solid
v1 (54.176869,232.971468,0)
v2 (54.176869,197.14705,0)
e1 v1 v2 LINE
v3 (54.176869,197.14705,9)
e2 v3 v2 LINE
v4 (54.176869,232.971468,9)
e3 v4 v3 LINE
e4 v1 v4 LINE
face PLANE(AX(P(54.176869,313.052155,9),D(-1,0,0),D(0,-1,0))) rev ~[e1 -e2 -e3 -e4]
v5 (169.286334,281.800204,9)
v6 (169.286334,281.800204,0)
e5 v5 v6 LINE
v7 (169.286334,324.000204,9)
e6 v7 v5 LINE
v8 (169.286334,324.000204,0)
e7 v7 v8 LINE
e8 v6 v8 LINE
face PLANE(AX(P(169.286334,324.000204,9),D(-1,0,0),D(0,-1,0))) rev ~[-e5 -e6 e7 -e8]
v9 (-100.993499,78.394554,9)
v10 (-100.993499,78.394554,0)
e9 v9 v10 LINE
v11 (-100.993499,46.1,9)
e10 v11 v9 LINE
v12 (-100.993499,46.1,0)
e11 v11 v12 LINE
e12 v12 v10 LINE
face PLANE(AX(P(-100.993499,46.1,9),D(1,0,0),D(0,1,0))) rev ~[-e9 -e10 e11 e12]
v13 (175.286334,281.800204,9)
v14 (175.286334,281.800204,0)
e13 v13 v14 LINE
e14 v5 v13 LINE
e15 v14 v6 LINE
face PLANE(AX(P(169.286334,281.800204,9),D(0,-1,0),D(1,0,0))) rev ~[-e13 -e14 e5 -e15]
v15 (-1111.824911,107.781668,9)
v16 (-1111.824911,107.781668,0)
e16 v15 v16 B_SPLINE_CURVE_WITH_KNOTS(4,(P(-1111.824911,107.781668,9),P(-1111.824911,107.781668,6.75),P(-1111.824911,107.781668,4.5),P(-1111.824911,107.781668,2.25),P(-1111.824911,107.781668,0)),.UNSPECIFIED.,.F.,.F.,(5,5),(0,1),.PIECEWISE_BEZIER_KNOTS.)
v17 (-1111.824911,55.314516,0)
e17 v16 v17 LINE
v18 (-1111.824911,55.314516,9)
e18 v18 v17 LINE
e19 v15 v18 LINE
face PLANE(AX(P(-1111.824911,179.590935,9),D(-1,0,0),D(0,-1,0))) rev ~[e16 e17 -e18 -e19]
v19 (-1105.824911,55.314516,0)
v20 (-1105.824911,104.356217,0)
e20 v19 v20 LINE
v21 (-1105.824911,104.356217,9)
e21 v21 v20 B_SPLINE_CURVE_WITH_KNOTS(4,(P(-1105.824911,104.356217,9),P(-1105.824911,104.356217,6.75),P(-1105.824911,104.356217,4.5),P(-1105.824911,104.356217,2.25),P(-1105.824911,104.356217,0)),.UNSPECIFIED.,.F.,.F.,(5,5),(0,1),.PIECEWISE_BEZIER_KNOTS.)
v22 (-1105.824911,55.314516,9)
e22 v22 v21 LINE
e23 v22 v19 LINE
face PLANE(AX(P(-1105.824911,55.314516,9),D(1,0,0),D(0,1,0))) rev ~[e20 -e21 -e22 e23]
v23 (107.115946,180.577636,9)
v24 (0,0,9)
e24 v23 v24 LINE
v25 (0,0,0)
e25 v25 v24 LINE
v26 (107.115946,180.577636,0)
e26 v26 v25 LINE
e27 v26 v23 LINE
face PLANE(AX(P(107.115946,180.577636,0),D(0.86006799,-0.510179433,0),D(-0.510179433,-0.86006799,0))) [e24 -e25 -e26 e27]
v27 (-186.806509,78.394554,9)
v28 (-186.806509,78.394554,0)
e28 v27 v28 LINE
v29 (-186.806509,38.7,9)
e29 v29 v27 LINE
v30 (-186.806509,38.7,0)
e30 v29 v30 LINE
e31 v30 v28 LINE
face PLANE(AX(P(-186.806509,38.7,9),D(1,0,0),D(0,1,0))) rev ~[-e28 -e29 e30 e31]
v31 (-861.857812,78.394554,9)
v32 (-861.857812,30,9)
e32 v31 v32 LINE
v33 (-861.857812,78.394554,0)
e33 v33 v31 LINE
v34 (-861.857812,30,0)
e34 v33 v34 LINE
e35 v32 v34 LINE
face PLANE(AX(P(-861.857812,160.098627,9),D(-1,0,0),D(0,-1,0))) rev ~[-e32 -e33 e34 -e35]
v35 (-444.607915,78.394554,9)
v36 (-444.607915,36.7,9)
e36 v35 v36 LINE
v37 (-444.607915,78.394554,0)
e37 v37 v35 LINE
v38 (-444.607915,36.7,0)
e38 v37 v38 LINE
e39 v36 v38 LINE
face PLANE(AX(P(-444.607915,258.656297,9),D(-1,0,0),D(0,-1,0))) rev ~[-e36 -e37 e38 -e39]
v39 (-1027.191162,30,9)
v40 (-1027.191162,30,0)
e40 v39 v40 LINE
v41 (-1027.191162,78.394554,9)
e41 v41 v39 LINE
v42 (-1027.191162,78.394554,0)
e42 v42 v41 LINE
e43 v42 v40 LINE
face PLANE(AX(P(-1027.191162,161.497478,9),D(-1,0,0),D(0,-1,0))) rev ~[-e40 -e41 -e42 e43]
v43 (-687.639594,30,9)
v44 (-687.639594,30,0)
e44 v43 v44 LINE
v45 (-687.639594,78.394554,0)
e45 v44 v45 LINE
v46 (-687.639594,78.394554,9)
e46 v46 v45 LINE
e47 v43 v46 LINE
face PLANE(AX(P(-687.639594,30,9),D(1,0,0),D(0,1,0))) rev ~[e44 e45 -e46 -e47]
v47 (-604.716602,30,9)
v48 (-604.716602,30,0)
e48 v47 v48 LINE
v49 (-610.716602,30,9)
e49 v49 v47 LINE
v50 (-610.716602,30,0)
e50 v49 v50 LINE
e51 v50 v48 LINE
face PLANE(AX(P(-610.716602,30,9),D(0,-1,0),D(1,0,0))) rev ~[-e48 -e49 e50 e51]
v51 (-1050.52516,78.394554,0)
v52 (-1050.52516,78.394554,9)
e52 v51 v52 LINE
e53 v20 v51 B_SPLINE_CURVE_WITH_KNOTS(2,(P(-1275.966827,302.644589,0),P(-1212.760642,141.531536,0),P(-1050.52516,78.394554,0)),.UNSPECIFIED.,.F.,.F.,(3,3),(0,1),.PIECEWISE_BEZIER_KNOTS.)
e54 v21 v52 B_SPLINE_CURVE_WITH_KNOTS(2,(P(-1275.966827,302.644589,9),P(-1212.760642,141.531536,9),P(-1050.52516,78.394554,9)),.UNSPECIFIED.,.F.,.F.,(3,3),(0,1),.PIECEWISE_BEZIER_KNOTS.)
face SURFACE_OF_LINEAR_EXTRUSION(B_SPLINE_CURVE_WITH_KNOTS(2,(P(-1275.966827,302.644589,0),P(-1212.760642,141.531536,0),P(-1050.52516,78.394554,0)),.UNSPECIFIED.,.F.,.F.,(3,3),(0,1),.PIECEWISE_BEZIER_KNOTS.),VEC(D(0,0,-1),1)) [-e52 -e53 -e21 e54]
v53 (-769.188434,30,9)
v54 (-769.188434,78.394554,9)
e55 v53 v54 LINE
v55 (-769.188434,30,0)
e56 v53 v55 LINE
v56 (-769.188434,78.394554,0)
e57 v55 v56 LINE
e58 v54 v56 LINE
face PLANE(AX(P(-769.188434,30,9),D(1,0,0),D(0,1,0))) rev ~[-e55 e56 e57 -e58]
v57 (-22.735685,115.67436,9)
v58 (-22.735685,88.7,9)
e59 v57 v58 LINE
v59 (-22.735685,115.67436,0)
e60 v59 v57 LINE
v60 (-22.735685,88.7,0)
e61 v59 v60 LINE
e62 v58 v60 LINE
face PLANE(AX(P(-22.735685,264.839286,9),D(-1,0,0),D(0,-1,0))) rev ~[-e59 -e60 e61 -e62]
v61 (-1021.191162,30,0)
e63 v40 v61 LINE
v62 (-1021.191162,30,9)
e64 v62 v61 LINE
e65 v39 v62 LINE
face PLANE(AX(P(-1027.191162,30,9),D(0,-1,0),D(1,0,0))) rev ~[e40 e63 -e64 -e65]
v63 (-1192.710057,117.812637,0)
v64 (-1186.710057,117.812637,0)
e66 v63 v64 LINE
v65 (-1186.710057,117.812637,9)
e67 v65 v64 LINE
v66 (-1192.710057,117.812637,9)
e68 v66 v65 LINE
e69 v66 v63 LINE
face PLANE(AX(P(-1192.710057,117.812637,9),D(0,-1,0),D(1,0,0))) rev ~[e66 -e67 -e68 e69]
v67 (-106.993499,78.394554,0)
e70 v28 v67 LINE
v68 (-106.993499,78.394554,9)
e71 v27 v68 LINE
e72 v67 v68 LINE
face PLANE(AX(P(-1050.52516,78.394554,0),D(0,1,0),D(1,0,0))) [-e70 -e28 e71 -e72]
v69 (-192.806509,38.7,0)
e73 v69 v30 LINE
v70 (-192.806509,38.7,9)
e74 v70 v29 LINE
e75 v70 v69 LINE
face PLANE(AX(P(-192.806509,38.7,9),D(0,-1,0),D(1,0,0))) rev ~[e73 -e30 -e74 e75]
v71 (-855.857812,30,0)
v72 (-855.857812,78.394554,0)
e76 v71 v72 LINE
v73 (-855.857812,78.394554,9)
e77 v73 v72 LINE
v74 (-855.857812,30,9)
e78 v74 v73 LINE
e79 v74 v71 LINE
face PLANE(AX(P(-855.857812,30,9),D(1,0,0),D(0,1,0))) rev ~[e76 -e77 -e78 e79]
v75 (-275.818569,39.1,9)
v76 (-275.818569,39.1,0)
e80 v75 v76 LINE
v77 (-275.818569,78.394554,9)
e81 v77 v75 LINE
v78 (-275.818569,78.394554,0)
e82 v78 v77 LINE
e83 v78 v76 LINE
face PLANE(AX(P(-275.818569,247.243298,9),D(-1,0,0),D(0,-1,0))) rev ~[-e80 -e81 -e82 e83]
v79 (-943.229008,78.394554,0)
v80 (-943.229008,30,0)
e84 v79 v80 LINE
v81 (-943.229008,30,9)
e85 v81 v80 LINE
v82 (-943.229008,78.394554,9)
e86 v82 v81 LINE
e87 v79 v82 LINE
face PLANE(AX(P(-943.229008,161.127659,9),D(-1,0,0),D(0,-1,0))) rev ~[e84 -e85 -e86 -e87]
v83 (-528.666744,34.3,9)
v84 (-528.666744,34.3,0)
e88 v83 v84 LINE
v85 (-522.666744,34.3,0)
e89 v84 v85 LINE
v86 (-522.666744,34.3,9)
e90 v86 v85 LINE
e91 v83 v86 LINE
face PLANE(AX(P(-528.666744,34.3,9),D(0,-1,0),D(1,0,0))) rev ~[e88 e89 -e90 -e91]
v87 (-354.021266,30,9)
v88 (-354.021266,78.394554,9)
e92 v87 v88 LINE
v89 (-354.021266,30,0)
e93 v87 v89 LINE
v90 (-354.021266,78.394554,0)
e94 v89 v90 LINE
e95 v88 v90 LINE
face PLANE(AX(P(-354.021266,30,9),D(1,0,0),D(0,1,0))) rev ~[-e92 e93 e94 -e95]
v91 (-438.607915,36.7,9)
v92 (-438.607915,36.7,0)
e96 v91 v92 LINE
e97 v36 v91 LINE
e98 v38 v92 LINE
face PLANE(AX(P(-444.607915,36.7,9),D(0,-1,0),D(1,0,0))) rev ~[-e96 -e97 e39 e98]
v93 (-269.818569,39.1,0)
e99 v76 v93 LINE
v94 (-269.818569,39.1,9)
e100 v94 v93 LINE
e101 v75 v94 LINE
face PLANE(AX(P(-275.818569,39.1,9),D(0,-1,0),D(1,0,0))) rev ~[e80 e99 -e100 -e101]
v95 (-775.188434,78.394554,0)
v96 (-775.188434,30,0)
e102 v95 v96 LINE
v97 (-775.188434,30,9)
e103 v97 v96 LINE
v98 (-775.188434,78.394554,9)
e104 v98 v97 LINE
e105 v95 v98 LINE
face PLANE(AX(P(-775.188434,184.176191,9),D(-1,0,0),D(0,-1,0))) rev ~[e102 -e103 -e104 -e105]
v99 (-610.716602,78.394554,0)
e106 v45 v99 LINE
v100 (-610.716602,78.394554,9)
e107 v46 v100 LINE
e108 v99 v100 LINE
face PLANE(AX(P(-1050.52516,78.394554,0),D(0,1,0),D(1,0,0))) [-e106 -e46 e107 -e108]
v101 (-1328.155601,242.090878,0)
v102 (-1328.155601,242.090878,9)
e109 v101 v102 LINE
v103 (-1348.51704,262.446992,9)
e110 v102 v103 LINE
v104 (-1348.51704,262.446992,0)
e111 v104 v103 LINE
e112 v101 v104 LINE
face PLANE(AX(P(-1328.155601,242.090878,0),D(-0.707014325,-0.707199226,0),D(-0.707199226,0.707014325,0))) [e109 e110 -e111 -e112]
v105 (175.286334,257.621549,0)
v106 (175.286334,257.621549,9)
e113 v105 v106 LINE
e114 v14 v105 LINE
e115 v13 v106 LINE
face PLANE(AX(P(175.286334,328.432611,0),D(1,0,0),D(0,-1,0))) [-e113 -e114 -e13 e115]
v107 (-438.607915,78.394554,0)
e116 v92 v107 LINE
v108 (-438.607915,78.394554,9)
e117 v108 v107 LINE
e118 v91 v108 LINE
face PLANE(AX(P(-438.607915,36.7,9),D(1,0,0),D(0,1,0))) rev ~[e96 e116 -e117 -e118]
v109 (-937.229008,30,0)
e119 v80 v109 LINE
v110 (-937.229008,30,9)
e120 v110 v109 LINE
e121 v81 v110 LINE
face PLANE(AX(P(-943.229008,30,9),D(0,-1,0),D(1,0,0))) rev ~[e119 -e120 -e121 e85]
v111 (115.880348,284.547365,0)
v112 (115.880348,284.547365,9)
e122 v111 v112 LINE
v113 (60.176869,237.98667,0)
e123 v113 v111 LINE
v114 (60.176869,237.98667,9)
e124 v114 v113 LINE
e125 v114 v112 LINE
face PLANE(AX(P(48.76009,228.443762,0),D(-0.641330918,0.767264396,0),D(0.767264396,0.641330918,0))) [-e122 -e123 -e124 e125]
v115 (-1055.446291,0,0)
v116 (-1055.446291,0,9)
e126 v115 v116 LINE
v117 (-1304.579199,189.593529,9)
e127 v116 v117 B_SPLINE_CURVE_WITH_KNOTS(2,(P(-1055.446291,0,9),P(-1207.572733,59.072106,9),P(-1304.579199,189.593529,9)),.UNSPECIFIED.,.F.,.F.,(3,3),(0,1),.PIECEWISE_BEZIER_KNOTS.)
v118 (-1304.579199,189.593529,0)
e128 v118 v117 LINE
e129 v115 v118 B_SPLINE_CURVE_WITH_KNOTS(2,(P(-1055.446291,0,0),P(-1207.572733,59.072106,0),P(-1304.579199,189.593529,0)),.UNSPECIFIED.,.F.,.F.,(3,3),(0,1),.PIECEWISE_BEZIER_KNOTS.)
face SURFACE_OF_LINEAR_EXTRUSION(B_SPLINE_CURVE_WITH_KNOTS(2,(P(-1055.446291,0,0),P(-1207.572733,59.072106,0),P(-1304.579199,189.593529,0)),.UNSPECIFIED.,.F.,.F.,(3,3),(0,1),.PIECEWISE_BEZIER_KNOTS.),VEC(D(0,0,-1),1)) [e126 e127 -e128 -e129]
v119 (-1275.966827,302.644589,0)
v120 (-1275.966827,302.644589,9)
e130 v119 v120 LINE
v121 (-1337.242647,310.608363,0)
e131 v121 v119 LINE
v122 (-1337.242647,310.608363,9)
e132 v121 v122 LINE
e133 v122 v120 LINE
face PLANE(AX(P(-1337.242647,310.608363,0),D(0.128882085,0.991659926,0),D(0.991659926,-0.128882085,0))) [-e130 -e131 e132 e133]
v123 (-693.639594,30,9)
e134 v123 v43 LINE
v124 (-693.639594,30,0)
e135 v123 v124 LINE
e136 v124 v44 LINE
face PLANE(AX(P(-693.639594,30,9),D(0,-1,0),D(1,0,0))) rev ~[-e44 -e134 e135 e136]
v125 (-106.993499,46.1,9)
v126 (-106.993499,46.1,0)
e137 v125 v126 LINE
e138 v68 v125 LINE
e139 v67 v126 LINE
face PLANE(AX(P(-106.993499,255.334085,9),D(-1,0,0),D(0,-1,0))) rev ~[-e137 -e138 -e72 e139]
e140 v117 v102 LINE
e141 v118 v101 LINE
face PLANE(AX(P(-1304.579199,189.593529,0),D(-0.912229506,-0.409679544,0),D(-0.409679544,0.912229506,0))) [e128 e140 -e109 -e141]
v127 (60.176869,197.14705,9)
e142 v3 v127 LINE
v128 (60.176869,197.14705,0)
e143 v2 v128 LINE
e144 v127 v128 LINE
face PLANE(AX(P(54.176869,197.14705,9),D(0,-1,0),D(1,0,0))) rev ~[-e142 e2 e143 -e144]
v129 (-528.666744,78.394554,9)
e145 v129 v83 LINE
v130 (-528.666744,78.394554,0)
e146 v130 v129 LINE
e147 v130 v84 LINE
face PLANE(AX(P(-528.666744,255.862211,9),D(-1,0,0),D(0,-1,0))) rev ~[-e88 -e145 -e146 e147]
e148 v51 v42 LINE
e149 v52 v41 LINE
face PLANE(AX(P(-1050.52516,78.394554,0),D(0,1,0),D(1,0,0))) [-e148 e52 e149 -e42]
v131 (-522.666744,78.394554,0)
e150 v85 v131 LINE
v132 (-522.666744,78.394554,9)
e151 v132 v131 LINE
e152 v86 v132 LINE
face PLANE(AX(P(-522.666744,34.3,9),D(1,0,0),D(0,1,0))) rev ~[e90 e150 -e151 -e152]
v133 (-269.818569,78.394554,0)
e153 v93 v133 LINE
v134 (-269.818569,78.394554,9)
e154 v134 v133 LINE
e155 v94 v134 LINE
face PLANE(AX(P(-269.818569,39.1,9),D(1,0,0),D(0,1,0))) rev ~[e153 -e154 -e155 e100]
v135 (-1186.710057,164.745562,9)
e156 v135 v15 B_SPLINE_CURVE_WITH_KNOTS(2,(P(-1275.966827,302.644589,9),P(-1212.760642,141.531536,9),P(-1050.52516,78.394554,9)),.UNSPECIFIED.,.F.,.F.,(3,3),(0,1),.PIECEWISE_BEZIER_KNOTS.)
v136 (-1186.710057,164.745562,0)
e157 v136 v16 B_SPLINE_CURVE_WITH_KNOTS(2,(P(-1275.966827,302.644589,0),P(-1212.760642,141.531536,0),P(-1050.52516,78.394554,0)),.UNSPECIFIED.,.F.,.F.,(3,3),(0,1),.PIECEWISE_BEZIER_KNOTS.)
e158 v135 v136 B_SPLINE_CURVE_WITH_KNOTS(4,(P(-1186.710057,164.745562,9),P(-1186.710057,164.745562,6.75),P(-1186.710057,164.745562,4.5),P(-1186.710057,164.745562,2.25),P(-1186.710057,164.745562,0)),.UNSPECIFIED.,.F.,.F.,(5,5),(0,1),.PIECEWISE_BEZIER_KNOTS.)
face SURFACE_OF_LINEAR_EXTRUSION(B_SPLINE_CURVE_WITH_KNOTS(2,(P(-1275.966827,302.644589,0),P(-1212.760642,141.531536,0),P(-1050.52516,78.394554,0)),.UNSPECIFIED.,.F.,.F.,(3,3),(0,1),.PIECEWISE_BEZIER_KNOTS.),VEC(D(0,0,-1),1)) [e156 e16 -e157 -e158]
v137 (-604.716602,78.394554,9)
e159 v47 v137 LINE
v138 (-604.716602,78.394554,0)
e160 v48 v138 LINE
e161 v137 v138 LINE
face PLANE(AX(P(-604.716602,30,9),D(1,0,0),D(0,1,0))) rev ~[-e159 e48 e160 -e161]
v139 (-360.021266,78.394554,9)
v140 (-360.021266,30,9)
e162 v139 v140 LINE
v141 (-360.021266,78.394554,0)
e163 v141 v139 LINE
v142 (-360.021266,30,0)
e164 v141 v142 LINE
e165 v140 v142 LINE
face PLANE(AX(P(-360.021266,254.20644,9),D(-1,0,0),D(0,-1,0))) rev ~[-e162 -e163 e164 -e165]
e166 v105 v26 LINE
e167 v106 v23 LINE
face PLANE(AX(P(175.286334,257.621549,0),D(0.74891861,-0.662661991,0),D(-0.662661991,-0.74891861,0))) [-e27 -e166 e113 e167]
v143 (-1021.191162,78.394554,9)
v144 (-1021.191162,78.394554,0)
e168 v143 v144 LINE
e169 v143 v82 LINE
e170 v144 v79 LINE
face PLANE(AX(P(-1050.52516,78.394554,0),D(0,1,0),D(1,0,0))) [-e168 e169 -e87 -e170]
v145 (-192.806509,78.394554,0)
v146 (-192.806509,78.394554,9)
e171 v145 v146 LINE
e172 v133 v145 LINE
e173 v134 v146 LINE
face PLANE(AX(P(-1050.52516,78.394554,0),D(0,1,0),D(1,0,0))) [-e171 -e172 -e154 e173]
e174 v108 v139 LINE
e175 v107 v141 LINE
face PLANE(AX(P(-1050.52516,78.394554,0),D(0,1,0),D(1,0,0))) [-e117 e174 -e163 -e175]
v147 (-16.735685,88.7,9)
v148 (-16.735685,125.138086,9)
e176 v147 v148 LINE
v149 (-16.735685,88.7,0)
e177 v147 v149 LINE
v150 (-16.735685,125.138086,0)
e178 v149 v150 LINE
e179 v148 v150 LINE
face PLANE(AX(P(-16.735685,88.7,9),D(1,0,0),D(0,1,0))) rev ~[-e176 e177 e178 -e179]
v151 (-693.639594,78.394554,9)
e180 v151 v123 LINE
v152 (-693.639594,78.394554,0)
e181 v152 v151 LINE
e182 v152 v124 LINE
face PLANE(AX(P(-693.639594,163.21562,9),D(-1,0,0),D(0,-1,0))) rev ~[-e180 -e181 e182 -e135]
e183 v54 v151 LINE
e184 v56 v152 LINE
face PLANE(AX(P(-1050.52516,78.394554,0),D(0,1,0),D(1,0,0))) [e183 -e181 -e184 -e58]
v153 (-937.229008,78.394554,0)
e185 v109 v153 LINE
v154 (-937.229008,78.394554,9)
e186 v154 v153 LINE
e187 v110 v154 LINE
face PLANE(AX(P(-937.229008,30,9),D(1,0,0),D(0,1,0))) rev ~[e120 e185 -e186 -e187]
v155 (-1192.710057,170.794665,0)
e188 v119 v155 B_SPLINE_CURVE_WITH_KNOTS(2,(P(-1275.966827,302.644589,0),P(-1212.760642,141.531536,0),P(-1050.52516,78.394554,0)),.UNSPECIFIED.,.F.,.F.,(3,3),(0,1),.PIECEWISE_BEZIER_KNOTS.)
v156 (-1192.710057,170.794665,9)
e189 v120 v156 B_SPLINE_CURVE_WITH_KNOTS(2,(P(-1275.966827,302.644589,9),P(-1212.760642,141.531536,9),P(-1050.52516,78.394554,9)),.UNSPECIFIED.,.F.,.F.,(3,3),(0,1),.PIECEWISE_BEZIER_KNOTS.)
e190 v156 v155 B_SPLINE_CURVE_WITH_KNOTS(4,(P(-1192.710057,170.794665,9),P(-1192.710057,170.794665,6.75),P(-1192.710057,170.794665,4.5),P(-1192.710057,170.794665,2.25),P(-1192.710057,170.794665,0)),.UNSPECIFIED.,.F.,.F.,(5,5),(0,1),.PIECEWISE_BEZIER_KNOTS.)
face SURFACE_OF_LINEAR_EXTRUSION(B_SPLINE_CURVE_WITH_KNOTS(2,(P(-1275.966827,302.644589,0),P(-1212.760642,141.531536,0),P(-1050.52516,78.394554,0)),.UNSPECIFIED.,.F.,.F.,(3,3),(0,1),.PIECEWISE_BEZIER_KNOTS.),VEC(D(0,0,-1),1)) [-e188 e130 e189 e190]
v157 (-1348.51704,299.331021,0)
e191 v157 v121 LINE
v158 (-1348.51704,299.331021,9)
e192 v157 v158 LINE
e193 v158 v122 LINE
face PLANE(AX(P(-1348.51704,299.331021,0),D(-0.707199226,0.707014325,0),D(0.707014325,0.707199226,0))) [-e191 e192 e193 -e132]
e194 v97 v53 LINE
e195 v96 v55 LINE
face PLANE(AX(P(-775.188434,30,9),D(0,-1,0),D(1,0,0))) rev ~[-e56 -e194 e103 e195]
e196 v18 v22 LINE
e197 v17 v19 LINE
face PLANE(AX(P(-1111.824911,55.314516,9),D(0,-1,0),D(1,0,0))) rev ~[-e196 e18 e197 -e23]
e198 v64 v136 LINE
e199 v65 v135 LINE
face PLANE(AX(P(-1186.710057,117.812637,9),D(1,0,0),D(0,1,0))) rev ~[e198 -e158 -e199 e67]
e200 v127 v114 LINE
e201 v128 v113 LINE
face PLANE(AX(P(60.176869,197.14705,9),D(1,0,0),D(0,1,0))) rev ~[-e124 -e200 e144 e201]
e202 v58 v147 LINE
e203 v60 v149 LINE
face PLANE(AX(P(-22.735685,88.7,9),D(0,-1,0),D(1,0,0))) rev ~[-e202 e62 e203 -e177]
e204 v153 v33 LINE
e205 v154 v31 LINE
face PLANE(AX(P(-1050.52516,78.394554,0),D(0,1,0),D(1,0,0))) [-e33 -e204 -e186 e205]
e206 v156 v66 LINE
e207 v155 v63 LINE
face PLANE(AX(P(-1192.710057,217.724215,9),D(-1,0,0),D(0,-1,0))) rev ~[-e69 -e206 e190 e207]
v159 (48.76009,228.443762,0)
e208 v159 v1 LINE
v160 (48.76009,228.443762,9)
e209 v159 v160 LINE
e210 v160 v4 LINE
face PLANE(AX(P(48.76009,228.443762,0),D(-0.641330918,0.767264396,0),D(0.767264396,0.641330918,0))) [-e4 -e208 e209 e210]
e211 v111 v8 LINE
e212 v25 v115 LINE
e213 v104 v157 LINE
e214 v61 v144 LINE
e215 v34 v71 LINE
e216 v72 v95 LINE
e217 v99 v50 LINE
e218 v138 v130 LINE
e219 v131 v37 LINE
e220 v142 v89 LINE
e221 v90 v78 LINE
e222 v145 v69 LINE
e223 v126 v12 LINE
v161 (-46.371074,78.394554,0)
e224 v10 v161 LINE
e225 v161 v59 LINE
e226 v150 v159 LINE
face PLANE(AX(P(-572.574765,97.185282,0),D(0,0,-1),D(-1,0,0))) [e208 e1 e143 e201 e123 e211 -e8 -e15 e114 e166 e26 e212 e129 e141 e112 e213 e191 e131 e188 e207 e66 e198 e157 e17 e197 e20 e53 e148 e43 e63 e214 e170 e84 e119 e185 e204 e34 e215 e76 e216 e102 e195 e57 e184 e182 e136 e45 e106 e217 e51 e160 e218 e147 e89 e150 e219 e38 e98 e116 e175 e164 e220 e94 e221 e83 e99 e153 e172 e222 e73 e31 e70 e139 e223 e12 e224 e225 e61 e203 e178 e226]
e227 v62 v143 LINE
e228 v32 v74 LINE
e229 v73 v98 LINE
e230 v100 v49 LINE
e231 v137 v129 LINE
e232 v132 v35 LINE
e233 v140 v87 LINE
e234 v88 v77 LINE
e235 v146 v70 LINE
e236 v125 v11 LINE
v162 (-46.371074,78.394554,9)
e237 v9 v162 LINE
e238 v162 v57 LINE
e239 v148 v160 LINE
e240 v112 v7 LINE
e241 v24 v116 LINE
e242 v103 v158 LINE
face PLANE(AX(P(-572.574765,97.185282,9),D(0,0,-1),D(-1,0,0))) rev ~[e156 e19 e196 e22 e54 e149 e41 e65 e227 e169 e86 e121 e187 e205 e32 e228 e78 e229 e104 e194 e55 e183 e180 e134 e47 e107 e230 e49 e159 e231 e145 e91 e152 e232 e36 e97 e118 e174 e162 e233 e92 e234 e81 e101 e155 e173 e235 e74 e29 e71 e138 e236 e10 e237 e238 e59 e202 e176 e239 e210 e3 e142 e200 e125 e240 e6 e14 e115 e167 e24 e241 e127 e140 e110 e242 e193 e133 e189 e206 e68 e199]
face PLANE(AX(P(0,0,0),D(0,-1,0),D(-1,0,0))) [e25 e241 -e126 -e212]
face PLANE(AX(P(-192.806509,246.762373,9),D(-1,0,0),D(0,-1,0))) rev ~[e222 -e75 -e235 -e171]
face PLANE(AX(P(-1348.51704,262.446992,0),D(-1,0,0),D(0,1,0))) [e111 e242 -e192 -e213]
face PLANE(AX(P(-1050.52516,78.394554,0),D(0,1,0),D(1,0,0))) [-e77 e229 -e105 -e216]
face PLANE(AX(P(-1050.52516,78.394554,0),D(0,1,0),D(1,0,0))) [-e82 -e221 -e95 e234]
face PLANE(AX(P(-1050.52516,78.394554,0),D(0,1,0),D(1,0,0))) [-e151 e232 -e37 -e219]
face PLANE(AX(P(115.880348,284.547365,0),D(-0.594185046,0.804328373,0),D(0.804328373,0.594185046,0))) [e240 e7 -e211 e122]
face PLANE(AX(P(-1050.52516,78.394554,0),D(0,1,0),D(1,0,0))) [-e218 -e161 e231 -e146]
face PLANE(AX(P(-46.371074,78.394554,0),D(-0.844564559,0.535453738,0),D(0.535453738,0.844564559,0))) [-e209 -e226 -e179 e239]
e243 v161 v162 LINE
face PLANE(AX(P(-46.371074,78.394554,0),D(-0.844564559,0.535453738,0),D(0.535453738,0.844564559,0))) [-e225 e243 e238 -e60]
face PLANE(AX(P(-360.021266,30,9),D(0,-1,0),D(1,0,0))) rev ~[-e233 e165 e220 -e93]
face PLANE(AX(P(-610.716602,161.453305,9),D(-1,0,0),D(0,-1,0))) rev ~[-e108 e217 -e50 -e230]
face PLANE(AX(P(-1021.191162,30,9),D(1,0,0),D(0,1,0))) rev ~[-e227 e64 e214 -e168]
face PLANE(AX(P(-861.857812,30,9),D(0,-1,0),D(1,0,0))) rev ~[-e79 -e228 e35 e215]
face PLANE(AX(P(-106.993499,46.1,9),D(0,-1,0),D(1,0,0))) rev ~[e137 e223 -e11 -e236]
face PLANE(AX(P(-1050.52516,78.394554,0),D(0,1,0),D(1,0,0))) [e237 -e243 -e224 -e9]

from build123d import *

# Parameters (mm, degrees)
BOSS_EXTRU_2_DEPTH      = 9
ENL_V_MAT_EXTRU_2_DEPTH = 9
ENL_V_MAT_EXTRU_3_DEPTH = 10


with BuildPart() as part:
    # Esquisse2 → Boss.-Extru.2 (new body)
    with BuildSketch(Plane.XY):
        with BuildLine():
            Line((0, 0), (-1055.446290734, 0))
            add(Edge.make_bspline(
                [(-1055.446290734, 0), (-1207.572733387, 59.072106031), (-1304.579199027, 189.593529265)],
                knots=[0, 0, 0, 1, 1, 1], degree=2))
            Line((-1304.579199027, 189.593529265), (-1328.155601237, 242.090877604))
            Line((-1328.155601237, 242.090877604), (-1348.517039509, 262.446992266))
            Line((-1348.517039509, 262.446992266), (-1348.517039509, 299.331021292))
            Line((-1348.517039509, 299.331021292), (-1337.24264668, 310.608362644))
            Line((-1337.24264668, 310.608362644), (-1275.966827179, 302.644588826))
            add(Edge.make_bspline(
                [(-1275.966827179, 302.644588826), (-1212.760641583, 141.531535954), (-1050.525159664, 78.394553502)],
                knots=[0, 0, 0, 1, 1, 1], degree=2))
            Line((-1050.525159664, 78.394553502), (-46.371074076, 78.394553502))
            Line((-46.371074076, 78.394553502), (48.76008987, 228.44376205))
            Line((48.76008987, 228.44376205), (115.880348206, 284.547364773))
            Line((115.880348206, 284.547364773), (175.286334456, 328.432610938))
            Line((175.286334456, 328.432610938), (175.286334456, 257.621549377))
            Line((175.286334456, 257.621549377), (107.11594567, 180.577636332))
            Line((107.11594567, 180.577636332), (0, 0))
        make_face()
    extrude(amount=BOSS_EXTRU_2_DEPTH)

    # Esquisse4 → Enlèv. mat.-Extru.2 (cut)
    with BuildSketch(Plane.XY.offset(9)):
        Polygon((-1192.710056644, 217.724215408), (-1192.710056644, 117.812636738), (-1186.710056644, 117.812636738), (-1186.710056644, 209.090265158), (-1144.70133954, 205.492785887), (-1111.824911273, 179.590935136), (-1111.824911273, 55.314515649), (-1105.824911273, 55.314515649), (-1105.824911273, 174.913937406), (-1058.771084869, 188.659470271), (-1027.191161845, 161.497477767), (-1027.191161845, 30), (-1021.191161845, 30), (-1021.191161845, 167.225098507), (-976.159938867, 174.429619005), (-943.229008237, 161.127659365), (-943.229008237, 30), (-937.229008237, 30), (-937.229008237, 164.093815562), (-899.191490776, 172.001101596), (-861.857811784, 160.098627493), (-861.857811784, 30), (-855.857811784, 30), (-855.857811784, 196.236545153), (-815.986169177, 204.901610664), (-775.188433973, 184.176190605), (-775.188433973, 30), (-769.188433973, 30), (-769.188433973, 176.450577912), (-732.223715867, 183.004336583), (-693.639593808, 163.215620457), (-693.639593808, 30), (-687.639593808, 30), (-687.639593808, 172.485228345), (-653.152535866, 182.871939208), (-610.716601792, 161.453305285), (-610.716601792, 30), (-604.716601792, 30), (-604.716601792, 256.125318922), (-551.321272632, 268.910222611), (-528.666744333, 255.862211449), (-528.666744333, 34.3), (-522.666744333, 34.3), (-522.666744333, 255.102102604), (-476.392141731, 269.107524931), (-444.607914754, 258.656296952), (-444.607914754, 36.7), (-438.607914754, 36.7), (-438.607914754, 253.443093933), (-391.056155042, 266.894918017), (-360.02126631, 254.206439852), (-360.02126631, 30), (-354.02126631, 30), (-354.02126631, 250.104032237), (-303.804875297, 262.547483763), (-275.81856885, 247.243298089), (-275.81856885, 39.1), (-269.81856885, 39.1), (-269.81856885, 230.071554094), (-217.437093626, 257.378680484), (-192.806508582, 246.762372601), (-192.806508582, 38.7), (-186.806508582, 38.7), (-186.806508582, 245.622867868), (-134.999273909, 264.79720393), (-106.993498927, 255.334085011), (-106.993498927, 46.1), (-100.993498927, 46.1), (-100.993498927, 258.655280604), (-22.735685337, 264.839286488), (-22.735685337, 88.7), (-16.735685337, 88.7), (-16.735685337, 231.395876397), (-1.733463181, 266.202092714), (54.176868866, 313.052154508), (54.176868866, 197.147050424), (60.176868866, 197.147050424), (60.176868866, 330.337520125), (-1075.947973634, 334.662873451), align=None)
    extrude(amount=-ENL_V_MAT_EXTRU_2_DEPTH, mode=Mode.SUBTRACT)

    # Esquisse5 → Enlèv. mat.-Extru.3 (cut)
    with BuildSketch(Plane.XY.offset(9)):
        Polygon((169.286334456, 324.000204482), (169.286334456, 281.800204482), (175.286334456, 281.800204482), (202.680394495, 285.052171219), (208.588297758, 339.079823363), (181.275473189, 338.718158681), align=None)
    extrude(amount=-ENL_V_MAT_EXTRU_3_DEPTH, mode=Mode.SUBTRACT)


solid = part.part
